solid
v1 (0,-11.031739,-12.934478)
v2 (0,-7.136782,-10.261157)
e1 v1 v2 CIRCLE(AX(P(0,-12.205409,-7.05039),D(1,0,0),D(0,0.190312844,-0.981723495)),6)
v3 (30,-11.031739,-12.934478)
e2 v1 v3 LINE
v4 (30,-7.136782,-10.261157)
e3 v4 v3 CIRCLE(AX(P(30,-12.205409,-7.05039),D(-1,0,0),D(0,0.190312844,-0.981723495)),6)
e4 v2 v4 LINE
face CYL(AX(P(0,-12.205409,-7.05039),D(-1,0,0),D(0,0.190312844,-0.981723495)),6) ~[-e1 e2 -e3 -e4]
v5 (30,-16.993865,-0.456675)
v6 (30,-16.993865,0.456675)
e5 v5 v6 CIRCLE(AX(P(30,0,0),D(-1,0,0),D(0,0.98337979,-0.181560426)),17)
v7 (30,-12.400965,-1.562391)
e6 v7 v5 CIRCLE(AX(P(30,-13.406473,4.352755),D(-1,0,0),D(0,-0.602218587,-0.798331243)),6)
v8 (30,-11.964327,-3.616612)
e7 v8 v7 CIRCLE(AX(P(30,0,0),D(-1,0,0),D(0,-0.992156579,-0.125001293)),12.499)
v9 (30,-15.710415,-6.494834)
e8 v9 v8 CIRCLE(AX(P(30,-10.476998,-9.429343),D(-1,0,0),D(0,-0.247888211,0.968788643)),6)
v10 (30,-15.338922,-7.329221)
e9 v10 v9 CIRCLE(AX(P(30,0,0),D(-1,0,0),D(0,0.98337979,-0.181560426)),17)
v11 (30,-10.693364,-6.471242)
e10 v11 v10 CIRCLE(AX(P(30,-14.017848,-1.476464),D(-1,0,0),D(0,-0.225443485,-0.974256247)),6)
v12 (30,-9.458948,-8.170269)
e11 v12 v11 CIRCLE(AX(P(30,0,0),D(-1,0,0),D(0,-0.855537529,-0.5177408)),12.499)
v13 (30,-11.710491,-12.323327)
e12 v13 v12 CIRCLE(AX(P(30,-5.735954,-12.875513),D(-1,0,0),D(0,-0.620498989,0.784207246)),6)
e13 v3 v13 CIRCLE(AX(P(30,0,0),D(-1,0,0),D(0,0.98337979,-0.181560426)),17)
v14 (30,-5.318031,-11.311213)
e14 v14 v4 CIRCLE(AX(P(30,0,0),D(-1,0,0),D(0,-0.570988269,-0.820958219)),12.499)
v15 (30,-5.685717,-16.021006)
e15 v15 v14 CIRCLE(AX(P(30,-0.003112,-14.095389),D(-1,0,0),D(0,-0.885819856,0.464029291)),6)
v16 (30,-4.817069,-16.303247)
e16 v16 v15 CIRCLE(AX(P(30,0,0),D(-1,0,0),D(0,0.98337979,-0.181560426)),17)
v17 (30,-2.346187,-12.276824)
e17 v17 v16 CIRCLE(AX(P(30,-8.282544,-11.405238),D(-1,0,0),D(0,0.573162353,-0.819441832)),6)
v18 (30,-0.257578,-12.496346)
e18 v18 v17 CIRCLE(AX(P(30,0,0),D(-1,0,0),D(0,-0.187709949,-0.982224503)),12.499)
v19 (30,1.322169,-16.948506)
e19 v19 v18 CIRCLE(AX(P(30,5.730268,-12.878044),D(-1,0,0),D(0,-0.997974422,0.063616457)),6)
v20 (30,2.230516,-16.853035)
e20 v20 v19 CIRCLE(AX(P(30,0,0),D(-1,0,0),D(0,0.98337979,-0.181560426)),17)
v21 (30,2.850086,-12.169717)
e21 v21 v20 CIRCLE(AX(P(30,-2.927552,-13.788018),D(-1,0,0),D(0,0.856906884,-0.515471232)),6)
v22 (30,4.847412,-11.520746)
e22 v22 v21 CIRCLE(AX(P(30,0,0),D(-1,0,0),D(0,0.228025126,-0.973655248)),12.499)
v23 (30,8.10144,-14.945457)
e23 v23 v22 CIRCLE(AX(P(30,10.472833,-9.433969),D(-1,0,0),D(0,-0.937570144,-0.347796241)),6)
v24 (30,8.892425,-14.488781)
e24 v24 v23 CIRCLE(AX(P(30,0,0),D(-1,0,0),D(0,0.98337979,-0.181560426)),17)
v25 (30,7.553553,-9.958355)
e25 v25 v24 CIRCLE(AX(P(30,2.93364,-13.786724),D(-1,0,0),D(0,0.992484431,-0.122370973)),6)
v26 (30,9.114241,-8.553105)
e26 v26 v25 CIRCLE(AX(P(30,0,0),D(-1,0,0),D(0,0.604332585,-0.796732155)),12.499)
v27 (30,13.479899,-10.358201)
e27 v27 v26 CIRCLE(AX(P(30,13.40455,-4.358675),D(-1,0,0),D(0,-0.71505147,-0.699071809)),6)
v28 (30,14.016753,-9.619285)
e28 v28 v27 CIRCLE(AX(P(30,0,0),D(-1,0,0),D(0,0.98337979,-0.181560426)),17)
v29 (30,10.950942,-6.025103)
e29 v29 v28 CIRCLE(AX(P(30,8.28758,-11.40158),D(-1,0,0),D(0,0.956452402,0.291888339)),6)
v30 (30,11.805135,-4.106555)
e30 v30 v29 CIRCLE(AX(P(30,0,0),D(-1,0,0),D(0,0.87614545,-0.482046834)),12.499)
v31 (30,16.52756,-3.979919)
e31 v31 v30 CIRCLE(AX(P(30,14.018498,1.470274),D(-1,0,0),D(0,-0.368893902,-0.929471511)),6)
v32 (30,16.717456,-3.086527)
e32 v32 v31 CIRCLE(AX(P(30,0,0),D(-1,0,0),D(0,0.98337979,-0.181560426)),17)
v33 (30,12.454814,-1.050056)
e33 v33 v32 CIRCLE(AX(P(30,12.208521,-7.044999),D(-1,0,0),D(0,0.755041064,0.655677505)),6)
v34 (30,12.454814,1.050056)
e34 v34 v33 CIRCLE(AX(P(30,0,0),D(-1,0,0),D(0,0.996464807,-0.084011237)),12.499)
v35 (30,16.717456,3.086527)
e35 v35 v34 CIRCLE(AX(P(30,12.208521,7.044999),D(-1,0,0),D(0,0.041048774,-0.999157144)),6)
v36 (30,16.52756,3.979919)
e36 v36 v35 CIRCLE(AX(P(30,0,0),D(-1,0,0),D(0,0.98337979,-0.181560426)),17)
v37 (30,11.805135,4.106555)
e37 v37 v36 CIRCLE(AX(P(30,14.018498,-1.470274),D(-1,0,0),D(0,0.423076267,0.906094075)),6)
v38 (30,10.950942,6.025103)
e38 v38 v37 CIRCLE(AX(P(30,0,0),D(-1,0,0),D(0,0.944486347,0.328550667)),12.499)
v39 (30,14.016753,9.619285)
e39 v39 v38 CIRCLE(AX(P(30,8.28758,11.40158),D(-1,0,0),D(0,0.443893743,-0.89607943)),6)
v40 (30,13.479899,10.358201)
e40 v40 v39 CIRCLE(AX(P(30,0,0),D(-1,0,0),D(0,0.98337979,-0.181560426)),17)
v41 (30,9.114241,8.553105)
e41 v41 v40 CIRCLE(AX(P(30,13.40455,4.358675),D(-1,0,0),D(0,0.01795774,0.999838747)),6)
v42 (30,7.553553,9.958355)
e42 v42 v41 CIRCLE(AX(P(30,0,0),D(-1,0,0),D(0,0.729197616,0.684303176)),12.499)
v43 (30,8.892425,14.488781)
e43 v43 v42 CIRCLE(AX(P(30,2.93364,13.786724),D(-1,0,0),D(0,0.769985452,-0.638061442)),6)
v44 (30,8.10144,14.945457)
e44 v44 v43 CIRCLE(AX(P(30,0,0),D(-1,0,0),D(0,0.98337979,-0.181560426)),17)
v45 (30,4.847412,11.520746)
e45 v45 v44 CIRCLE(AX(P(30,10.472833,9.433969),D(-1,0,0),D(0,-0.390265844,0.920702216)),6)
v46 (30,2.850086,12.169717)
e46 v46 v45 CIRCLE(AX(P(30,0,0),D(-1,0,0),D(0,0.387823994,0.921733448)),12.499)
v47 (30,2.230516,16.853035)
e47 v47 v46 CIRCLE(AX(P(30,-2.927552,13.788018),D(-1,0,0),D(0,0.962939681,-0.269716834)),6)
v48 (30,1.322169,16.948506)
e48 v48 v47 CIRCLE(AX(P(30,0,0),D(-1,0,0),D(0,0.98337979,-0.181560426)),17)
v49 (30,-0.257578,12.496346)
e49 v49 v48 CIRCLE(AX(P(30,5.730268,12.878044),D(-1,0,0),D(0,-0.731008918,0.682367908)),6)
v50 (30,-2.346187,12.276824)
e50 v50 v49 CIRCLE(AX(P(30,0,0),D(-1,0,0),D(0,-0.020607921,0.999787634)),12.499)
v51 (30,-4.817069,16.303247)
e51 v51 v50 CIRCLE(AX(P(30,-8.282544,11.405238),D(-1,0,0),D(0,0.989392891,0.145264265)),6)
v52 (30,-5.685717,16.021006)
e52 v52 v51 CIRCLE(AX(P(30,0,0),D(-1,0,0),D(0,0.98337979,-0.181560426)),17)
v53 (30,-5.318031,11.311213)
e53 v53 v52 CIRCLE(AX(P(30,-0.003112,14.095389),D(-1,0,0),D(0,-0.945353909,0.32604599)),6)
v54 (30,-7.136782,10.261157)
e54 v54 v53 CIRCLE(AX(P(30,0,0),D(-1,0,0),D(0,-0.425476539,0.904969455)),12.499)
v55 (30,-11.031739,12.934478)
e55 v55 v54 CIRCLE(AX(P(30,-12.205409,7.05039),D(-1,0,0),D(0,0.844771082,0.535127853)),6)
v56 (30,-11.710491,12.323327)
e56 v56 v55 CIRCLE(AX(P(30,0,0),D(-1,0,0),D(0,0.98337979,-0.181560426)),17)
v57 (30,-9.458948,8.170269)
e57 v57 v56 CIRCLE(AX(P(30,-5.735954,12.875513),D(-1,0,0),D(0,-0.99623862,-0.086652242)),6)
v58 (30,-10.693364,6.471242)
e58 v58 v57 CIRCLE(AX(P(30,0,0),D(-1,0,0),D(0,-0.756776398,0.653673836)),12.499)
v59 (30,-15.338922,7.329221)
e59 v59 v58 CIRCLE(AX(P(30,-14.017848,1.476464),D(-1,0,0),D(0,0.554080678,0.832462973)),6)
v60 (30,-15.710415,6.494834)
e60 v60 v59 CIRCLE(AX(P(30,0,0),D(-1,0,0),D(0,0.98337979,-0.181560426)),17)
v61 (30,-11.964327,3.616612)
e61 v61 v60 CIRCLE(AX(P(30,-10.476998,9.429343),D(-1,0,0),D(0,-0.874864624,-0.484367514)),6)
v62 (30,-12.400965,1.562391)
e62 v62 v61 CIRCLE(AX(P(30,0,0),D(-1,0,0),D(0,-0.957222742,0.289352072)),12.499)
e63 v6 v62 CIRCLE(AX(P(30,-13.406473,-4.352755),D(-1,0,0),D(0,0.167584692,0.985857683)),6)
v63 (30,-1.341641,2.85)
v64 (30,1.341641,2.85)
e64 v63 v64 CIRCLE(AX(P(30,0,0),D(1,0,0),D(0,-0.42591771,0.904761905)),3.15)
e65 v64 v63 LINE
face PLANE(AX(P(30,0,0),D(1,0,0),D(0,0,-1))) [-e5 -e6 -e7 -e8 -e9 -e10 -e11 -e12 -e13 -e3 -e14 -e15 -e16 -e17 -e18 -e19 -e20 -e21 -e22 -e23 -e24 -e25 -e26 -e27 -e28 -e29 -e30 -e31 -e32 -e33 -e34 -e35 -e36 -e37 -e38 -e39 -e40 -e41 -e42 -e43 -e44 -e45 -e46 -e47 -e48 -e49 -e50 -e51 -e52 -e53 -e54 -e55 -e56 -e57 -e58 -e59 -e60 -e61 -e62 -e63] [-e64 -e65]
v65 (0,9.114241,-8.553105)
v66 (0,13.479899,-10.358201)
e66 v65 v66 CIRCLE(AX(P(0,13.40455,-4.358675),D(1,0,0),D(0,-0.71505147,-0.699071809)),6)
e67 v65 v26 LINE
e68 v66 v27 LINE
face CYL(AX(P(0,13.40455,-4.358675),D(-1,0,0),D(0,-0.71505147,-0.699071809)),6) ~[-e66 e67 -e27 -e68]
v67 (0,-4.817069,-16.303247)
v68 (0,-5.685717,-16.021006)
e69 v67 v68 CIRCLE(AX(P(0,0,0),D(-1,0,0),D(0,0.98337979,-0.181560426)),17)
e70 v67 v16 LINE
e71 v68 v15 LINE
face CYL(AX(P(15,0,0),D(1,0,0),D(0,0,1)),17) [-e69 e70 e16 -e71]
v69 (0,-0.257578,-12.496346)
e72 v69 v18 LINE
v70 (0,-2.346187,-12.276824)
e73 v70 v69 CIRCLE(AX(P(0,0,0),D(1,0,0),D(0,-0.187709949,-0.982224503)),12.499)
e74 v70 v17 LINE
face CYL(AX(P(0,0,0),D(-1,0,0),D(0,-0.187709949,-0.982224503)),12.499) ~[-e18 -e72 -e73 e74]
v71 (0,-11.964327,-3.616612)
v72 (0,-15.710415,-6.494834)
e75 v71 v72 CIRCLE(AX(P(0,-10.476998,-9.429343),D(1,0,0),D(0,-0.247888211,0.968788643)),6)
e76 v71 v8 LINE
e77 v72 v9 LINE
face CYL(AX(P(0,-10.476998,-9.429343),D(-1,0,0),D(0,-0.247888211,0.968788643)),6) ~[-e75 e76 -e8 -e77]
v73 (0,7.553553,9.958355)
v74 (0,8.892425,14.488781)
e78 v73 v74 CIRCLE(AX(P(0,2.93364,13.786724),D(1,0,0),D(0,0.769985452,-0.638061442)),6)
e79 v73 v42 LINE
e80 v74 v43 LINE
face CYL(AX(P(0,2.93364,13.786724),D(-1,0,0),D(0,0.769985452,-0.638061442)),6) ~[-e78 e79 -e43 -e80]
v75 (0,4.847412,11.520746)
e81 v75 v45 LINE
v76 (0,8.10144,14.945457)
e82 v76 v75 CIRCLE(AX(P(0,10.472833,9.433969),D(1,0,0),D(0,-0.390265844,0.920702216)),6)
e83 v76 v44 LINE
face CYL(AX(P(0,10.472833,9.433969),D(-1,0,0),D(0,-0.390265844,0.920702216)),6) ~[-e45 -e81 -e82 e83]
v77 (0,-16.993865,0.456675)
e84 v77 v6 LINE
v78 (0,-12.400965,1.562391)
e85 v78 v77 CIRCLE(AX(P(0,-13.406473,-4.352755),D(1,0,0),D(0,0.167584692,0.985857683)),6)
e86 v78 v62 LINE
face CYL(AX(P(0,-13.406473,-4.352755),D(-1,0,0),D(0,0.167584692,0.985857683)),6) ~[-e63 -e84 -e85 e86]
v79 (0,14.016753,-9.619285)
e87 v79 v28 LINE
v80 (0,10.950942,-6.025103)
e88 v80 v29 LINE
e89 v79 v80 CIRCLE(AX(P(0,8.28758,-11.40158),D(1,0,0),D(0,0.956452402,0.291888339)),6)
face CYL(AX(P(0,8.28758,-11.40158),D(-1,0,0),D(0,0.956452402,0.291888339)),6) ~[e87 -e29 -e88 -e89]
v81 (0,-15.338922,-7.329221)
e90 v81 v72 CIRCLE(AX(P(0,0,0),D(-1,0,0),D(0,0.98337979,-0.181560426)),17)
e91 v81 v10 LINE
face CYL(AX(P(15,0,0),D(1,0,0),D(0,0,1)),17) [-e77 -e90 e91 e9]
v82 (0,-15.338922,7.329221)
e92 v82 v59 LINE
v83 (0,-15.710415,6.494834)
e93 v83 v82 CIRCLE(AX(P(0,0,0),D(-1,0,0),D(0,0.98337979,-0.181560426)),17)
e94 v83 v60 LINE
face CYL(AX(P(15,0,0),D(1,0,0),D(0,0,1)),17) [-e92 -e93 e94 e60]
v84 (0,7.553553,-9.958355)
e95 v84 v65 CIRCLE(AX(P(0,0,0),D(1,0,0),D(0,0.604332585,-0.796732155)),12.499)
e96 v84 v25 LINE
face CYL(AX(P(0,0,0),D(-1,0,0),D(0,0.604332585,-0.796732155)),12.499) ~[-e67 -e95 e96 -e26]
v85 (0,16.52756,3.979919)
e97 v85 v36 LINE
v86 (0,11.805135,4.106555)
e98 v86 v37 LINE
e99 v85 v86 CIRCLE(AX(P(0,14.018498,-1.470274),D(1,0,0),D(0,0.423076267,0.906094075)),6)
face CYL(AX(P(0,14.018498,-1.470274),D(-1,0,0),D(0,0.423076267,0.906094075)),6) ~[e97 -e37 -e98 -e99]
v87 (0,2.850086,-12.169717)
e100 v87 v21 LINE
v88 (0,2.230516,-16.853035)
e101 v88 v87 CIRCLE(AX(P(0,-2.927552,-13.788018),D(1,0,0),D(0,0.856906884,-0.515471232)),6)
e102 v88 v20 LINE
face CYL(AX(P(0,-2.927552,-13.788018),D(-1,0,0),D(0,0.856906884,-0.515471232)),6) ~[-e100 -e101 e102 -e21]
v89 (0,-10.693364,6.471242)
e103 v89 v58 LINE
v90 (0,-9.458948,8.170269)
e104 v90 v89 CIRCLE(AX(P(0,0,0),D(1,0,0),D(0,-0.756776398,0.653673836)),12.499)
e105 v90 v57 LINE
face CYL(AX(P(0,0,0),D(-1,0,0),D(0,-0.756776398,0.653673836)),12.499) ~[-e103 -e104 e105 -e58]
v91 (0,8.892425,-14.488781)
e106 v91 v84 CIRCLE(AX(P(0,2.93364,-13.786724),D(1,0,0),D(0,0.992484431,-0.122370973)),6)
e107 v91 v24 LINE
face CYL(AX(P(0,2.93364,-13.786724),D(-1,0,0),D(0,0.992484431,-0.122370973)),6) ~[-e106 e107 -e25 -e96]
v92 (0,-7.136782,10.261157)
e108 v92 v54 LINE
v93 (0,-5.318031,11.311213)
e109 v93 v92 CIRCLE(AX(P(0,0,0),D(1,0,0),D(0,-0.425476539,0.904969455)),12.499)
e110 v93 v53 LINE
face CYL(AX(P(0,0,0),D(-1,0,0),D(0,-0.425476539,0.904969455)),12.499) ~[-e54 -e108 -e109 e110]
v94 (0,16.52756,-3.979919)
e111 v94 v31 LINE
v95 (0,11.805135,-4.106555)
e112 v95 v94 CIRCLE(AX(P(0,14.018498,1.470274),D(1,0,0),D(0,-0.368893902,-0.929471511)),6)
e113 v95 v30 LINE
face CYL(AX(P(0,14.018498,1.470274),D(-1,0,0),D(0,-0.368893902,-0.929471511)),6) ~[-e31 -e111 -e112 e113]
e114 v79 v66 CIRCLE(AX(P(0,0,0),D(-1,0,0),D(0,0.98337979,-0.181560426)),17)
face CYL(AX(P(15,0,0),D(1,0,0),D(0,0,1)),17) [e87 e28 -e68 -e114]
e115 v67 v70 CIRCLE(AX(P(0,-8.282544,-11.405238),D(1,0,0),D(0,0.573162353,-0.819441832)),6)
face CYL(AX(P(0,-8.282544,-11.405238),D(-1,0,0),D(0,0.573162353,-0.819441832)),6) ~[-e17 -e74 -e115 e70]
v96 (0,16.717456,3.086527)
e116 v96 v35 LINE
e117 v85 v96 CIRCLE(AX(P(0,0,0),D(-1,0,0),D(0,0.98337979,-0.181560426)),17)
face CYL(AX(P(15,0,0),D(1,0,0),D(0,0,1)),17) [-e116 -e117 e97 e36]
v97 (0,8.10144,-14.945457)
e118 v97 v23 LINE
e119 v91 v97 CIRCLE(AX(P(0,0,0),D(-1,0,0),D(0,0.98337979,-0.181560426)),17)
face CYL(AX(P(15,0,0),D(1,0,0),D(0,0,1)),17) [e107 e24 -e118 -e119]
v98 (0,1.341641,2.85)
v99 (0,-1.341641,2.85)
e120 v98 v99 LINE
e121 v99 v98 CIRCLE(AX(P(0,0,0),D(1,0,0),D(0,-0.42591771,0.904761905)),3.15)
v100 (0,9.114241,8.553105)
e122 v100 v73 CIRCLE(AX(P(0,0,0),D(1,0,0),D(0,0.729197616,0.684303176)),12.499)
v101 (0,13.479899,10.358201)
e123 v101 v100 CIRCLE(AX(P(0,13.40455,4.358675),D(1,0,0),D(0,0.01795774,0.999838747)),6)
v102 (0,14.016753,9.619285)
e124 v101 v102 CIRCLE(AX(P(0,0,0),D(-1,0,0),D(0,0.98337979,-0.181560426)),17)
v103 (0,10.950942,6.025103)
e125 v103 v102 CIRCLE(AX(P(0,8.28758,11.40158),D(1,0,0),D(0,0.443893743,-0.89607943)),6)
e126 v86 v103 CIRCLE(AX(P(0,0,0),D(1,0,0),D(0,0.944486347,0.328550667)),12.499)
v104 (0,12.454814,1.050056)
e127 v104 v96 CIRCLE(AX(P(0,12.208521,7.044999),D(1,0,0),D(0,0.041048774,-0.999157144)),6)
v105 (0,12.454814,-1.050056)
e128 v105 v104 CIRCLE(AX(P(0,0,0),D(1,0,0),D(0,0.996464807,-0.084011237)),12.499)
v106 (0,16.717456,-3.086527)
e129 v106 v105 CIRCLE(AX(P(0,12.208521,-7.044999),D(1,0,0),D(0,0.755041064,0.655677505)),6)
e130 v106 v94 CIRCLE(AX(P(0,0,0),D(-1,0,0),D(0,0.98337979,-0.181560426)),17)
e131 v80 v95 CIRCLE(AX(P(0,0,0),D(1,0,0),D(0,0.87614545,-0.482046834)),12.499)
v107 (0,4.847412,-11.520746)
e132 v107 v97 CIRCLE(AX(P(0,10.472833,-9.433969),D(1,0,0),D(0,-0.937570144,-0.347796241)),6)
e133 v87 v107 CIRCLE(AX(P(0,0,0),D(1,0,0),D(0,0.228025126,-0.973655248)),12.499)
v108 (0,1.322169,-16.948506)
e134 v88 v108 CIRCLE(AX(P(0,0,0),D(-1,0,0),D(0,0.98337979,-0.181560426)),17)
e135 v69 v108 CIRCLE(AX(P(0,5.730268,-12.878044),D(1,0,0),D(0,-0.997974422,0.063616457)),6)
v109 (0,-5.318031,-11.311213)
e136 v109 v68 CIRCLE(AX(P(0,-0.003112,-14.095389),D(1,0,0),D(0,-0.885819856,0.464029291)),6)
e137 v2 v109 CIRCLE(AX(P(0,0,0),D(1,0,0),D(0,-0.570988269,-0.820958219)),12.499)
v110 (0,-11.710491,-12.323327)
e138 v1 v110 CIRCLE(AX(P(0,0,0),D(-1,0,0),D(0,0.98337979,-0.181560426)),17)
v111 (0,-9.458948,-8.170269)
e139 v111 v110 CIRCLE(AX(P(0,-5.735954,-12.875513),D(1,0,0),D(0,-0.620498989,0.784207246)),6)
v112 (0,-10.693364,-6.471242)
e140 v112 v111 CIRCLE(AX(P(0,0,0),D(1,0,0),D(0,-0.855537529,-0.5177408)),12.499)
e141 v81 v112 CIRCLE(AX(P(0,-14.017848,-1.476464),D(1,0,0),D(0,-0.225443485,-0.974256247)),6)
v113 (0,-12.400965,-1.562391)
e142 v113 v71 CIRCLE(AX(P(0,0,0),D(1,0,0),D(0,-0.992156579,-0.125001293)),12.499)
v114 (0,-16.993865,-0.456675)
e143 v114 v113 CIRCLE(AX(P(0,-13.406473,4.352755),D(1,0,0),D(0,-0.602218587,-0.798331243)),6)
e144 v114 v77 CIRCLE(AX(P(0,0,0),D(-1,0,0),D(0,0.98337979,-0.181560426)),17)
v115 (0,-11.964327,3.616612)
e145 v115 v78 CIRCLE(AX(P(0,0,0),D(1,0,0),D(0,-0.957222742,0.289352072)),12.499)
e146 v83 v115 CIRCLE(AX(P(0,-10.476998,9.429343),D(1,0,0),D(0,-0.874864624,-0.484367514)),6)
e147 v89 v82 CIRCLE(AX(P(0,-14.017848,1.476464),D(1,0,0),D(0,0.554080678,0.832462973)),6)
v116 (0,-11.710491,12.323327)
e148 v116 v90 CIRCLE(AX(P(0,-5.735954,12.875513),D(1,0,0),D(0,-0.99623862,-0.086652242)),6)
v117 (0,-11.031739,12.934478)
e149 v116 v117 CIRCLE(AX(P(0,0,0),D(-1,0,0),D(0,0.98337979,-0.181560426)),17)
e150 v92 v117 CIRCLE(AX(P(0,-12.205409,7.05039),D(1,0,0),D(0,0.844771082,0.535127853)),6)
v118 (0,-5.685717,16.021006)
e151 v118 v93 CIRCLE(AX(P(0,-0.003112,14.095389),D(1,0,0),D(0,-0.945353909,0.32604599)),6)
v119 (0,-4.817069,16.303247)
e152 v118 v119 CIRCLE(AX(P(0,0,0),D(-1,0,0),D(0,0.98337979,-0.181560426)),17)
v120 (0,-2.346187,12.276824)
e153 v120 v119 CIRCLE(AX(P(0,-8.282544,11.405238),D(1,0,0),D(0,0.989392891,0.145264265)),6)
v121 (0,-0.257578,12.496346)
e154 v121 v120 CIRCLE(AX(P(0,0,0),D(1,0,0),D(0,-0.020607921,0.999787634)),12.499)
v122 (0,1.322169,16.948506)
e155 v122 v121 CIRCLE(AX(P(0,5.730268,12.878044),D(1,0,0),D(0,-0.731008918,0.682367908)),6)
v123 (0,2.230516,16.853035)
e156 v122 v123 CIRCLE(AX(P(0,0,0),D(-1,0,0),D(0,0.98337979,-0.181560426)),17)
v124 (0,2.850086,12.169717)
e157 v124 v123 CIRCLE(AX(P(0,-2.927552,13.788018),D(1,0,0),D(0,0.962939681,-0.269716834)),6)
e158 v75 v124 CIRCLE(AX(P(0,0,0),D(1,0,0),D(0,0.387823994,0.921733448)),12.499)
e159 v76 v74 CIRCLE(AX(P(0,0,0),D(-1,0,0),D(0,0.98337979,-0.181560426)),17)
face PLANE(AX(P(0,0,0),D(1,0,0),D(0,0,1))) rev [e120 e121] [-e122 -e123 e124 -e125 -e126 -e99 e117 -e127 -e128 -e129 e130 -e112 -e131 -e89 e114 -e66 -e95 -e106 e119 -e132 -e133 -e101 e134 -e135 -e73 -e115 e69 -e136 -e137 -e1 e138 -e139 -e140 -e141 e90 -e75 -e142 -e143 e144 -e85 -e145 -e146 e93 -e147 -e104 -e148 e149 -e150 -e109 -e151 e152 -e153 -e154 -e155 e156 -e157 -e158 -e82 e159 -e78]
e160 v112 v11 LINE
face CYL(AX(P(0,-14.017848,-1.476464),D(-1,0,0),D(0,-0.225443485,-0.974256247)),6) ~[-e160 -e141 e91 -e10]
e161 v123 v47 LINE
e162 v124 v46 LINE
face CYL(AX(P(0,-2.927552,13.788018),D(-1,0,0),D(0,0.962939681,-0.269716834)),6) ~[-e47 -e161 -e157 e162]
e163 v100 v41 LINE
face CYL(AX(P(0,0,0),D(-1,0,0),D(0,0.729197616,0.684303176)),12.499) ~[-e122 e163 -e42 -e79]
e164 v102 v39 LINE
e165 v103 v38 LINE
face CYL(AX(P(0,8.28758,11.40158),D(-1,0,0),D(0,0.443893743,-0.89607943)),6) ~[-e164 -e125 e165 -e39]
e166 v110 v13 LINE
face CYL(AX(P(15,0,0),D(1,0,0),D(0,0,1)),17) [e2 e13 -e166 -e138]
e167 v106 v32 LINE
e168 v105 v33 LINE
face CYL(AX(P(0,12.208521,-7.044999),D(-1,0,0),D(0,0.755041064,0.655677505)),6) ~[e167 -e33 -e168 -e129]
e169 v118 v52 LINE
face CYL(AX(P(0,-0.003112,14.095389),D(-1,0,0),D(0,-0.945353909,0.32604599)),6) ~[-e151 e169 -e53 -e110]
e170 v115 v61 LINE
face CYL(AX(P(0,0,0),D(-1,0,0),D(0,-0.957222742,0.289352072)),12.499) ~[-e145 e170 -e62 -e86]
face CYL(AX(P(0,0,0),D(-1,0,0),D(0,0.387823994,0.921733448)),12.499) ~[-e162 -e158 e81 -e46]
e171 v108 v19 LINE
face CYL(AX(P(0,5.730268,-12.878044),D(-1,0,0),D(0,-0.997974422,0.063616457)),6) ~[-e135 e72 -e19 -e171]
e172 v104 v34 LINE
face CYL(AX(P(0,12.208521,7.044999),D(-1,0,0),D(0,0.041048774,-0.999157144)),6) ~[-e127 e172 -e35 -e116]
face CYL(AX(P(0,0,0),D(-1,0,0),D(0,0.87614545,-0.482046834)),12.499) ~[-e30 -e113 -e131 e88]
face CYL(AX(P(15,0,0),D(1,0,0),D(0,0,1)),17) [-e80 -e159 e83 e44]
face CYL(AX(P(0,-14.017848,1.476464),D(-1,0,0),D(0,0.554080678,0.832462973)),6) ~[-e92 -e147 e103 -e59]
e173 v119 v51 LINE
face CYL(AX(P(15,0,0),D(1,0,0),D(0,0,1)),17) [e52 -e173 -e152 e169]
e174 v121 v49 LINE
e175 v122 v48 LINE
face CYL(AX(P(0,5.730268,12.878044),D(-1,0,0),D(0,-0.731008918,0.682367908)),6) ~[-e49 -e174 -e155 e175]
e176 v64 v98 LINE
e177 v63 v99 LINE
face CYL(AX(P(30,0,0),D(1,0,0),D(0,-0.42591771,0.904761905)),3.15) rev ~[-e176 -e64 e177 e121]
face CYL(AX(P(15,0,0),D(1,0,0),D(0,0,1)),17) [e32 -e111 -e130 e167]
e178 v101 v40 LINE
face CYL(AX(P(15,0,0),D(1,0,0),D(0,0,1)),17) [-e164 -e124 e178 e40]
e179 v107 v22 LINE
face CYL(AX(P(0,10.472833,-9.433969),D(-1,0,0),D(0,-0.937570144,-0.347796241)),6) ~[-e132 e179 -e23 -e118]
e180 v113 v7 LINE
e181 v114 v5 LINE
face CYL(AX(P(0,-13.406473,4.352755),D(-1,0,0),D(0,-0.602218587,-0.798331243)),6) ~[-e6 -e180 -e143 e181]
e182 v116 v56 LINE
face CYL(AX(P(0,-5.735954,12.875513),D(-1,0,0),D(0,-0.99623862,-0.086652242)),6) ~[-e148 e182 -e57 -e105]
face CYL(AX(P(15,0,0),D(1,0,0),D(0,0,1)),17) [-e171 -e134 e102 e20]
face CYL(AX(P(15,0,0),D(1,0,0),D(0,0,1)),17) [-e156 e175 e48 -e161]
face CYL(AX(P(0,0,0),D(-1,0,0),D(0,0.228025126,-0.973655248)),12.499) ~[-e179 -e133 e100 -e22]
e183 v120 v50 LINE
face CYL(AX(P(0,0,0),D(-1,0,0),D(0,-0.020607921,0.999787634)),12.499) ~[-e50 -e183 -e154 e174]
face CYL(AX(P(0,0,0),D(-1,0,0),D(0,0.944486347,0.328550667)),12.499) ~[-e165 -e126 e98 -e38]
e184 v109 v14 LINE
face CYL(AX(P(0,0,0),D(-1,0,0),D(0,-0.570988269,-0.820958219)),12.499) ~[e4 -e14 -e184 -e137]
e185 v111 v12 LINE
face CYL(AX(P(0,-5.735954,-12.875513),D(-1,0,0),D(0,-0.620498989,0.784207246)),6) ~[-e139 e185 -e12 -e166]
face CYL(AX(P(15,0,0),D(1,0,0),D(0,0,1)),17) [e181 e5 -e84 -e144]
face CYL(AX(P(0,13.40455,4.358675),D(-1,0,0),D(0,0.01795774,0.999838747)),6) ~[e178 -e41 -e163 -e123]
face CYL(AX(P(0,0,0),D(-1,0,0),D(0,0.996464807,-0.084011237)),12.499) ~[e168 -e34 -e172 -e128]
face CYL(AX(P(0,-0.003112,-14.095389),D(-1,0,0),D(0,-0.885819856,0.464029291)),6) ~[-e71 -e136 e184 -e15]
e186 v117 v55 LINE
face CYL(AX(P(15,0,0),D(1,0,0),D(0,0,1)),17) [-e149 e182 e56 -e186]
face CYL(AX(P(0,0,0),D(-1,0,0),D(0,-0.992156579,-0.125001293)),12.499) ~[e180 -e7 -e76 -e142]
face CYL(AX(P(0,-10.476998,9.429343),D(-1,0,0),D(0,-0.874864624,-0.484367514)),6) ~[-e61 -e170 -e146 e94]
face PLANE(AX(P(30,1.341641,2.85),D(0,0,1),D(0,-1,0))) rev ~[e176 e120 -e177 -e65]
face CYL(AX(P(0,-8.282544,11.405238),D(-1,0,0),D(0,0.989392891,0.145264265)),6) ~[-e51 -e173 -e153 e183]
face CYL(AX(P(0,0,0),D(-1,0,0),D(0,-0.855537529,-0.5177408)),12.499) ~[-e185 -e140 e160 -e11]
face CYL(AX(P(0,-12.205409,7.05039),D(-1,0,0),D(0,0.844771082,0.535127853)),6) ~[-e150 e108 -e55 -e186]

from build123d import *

# Parameters (mm, degrees)
BASPROSKE_W              = 30
BASPROSKE_H              = 17
TOOTHCUT_DEPTH           = 39.444765573
TEETHCUTS_COUNT          = 15
TEETHCUTS_ANGLE          = 336
BORSKE_R                 = 5
BORE_DEPTH               = 50.0000508
ESBO_O1_R                = 5
RESSALTO_EXTRUS_O1_DEPTH = 30
CORTE_EXTRUS_O1_REACH    = 40.422


with BuildPart() as part:
    # BasProSke → Base-Revolve (revolve)
    with BuildSketch(Plane(origin=(0, 0, 0), x_dir=(1, 0, 0), z_dir=(0, 1, 0)), mode=Mode.PRIVATE) as base_revolve_sk:
        with Locations((15, 8.5)):
            Rectangle(BASPROSKE_W, BASPROSKE_H)
    revolve(base_revolve_sk.sketch.rotate(Axis((-10, 0, 0), (1, 0, 0)), 180), axis=Axis((-10, 0, 0), (1, 0, 0)))

    # TooCutSke → ToothCut (cut, through all)
    with BuildSketch(Plane(origin=(0, 0, 0), x_dir=(0, 0, -1), z_dir=(1, 0, 0))):
        with BuildLine():
            ThreePointArc((1.050056448, 12.454813626), (0, 12.499), (-1.050056448, 12.454813626))
            ThreePointArc((-1.050056448, 12.454813626), (-1.638118106, 14.809604533), (-3.110934279, 16.73876737))
            ThreePointArc((-3.110934279, 16.73876737), (0, 17.0254), (3.110934279, 16.73876737))
            ThreePointArc((3.110934279, 16.73876737), (1.638118106, 14.809604533), (1.050056448, 12.454813626))
        make_face()
    toothcut = extrude(amount=TOOTHCUT_DEPTH, mode=Mode.SUBTRACT)

    # TeethCuts: ToothCut ×15 about axis
    teethcuts_axis = Axis((-10, 0, 0), (1, 0, 0))
    for i in range(1, TEETHCUTS_COUNT):
        add(toothcut.rotate(teethcuts_axis, i * TEETHCUTS_ANGLE / (TEETHCUTS_COUNT - 1)), mode=Mode.SUBTRACT)

    # BorSke → Bore (cut, symmetric)
    with BuildSketch(Plane(origin=(0, 0, 0), x_dir=(0, 0, -1), z_dir=(1, 0, 0))):
        with Locations(Location((0, 0, 0), (0, 0, 180))):
            Circle(BORSKE_R)
    extrude(amount=BORE_DEPTH, both=True, mode=Mode.SUBTRACT)

    # Esboço1 → Ressalto-extrusão1 (add)
    with BuildSketch(Plane(origin=(30, 0, 0), x_dir=(0, 0, -1), z_dir=(1, 0, 0))):
        Circle(ESBO_O1_R)
    extrude(amount=-RESSALTO_EXTRUS_O1_DEPTH)

    # Esboço2 → Corte-extrusão1 (cut, up to next)
    with BuildSketch(Plane(origin=(30, 0, 0), x_dir=(0, 0, -1), z_dir=(1, 0, 0)), mode=Mode.PRIVATE) as corte_extrus_o1_sk1:
        with BuildLine():
            Line((-2.85, 1.341640786), (-2.85, -1.341640786))
            ThreePointArc((-2.85, -1.341640786), (3.15, 0), (-2.85, 1.341640786))
        make_face()
    corte_extrus_o1_tool1 = extrude(corte_extrus_o1_sk1.sketch, amount=-CORTE_EXTRUS_O1_REACH, mode=Mode.PRIVATE) & part.part
    add(corte_extrus_o1_tool1.solids().sort_by_distance((30, 0, -0.052561))[0], mode=Mode.SUBTRACT)


solid = part.part
